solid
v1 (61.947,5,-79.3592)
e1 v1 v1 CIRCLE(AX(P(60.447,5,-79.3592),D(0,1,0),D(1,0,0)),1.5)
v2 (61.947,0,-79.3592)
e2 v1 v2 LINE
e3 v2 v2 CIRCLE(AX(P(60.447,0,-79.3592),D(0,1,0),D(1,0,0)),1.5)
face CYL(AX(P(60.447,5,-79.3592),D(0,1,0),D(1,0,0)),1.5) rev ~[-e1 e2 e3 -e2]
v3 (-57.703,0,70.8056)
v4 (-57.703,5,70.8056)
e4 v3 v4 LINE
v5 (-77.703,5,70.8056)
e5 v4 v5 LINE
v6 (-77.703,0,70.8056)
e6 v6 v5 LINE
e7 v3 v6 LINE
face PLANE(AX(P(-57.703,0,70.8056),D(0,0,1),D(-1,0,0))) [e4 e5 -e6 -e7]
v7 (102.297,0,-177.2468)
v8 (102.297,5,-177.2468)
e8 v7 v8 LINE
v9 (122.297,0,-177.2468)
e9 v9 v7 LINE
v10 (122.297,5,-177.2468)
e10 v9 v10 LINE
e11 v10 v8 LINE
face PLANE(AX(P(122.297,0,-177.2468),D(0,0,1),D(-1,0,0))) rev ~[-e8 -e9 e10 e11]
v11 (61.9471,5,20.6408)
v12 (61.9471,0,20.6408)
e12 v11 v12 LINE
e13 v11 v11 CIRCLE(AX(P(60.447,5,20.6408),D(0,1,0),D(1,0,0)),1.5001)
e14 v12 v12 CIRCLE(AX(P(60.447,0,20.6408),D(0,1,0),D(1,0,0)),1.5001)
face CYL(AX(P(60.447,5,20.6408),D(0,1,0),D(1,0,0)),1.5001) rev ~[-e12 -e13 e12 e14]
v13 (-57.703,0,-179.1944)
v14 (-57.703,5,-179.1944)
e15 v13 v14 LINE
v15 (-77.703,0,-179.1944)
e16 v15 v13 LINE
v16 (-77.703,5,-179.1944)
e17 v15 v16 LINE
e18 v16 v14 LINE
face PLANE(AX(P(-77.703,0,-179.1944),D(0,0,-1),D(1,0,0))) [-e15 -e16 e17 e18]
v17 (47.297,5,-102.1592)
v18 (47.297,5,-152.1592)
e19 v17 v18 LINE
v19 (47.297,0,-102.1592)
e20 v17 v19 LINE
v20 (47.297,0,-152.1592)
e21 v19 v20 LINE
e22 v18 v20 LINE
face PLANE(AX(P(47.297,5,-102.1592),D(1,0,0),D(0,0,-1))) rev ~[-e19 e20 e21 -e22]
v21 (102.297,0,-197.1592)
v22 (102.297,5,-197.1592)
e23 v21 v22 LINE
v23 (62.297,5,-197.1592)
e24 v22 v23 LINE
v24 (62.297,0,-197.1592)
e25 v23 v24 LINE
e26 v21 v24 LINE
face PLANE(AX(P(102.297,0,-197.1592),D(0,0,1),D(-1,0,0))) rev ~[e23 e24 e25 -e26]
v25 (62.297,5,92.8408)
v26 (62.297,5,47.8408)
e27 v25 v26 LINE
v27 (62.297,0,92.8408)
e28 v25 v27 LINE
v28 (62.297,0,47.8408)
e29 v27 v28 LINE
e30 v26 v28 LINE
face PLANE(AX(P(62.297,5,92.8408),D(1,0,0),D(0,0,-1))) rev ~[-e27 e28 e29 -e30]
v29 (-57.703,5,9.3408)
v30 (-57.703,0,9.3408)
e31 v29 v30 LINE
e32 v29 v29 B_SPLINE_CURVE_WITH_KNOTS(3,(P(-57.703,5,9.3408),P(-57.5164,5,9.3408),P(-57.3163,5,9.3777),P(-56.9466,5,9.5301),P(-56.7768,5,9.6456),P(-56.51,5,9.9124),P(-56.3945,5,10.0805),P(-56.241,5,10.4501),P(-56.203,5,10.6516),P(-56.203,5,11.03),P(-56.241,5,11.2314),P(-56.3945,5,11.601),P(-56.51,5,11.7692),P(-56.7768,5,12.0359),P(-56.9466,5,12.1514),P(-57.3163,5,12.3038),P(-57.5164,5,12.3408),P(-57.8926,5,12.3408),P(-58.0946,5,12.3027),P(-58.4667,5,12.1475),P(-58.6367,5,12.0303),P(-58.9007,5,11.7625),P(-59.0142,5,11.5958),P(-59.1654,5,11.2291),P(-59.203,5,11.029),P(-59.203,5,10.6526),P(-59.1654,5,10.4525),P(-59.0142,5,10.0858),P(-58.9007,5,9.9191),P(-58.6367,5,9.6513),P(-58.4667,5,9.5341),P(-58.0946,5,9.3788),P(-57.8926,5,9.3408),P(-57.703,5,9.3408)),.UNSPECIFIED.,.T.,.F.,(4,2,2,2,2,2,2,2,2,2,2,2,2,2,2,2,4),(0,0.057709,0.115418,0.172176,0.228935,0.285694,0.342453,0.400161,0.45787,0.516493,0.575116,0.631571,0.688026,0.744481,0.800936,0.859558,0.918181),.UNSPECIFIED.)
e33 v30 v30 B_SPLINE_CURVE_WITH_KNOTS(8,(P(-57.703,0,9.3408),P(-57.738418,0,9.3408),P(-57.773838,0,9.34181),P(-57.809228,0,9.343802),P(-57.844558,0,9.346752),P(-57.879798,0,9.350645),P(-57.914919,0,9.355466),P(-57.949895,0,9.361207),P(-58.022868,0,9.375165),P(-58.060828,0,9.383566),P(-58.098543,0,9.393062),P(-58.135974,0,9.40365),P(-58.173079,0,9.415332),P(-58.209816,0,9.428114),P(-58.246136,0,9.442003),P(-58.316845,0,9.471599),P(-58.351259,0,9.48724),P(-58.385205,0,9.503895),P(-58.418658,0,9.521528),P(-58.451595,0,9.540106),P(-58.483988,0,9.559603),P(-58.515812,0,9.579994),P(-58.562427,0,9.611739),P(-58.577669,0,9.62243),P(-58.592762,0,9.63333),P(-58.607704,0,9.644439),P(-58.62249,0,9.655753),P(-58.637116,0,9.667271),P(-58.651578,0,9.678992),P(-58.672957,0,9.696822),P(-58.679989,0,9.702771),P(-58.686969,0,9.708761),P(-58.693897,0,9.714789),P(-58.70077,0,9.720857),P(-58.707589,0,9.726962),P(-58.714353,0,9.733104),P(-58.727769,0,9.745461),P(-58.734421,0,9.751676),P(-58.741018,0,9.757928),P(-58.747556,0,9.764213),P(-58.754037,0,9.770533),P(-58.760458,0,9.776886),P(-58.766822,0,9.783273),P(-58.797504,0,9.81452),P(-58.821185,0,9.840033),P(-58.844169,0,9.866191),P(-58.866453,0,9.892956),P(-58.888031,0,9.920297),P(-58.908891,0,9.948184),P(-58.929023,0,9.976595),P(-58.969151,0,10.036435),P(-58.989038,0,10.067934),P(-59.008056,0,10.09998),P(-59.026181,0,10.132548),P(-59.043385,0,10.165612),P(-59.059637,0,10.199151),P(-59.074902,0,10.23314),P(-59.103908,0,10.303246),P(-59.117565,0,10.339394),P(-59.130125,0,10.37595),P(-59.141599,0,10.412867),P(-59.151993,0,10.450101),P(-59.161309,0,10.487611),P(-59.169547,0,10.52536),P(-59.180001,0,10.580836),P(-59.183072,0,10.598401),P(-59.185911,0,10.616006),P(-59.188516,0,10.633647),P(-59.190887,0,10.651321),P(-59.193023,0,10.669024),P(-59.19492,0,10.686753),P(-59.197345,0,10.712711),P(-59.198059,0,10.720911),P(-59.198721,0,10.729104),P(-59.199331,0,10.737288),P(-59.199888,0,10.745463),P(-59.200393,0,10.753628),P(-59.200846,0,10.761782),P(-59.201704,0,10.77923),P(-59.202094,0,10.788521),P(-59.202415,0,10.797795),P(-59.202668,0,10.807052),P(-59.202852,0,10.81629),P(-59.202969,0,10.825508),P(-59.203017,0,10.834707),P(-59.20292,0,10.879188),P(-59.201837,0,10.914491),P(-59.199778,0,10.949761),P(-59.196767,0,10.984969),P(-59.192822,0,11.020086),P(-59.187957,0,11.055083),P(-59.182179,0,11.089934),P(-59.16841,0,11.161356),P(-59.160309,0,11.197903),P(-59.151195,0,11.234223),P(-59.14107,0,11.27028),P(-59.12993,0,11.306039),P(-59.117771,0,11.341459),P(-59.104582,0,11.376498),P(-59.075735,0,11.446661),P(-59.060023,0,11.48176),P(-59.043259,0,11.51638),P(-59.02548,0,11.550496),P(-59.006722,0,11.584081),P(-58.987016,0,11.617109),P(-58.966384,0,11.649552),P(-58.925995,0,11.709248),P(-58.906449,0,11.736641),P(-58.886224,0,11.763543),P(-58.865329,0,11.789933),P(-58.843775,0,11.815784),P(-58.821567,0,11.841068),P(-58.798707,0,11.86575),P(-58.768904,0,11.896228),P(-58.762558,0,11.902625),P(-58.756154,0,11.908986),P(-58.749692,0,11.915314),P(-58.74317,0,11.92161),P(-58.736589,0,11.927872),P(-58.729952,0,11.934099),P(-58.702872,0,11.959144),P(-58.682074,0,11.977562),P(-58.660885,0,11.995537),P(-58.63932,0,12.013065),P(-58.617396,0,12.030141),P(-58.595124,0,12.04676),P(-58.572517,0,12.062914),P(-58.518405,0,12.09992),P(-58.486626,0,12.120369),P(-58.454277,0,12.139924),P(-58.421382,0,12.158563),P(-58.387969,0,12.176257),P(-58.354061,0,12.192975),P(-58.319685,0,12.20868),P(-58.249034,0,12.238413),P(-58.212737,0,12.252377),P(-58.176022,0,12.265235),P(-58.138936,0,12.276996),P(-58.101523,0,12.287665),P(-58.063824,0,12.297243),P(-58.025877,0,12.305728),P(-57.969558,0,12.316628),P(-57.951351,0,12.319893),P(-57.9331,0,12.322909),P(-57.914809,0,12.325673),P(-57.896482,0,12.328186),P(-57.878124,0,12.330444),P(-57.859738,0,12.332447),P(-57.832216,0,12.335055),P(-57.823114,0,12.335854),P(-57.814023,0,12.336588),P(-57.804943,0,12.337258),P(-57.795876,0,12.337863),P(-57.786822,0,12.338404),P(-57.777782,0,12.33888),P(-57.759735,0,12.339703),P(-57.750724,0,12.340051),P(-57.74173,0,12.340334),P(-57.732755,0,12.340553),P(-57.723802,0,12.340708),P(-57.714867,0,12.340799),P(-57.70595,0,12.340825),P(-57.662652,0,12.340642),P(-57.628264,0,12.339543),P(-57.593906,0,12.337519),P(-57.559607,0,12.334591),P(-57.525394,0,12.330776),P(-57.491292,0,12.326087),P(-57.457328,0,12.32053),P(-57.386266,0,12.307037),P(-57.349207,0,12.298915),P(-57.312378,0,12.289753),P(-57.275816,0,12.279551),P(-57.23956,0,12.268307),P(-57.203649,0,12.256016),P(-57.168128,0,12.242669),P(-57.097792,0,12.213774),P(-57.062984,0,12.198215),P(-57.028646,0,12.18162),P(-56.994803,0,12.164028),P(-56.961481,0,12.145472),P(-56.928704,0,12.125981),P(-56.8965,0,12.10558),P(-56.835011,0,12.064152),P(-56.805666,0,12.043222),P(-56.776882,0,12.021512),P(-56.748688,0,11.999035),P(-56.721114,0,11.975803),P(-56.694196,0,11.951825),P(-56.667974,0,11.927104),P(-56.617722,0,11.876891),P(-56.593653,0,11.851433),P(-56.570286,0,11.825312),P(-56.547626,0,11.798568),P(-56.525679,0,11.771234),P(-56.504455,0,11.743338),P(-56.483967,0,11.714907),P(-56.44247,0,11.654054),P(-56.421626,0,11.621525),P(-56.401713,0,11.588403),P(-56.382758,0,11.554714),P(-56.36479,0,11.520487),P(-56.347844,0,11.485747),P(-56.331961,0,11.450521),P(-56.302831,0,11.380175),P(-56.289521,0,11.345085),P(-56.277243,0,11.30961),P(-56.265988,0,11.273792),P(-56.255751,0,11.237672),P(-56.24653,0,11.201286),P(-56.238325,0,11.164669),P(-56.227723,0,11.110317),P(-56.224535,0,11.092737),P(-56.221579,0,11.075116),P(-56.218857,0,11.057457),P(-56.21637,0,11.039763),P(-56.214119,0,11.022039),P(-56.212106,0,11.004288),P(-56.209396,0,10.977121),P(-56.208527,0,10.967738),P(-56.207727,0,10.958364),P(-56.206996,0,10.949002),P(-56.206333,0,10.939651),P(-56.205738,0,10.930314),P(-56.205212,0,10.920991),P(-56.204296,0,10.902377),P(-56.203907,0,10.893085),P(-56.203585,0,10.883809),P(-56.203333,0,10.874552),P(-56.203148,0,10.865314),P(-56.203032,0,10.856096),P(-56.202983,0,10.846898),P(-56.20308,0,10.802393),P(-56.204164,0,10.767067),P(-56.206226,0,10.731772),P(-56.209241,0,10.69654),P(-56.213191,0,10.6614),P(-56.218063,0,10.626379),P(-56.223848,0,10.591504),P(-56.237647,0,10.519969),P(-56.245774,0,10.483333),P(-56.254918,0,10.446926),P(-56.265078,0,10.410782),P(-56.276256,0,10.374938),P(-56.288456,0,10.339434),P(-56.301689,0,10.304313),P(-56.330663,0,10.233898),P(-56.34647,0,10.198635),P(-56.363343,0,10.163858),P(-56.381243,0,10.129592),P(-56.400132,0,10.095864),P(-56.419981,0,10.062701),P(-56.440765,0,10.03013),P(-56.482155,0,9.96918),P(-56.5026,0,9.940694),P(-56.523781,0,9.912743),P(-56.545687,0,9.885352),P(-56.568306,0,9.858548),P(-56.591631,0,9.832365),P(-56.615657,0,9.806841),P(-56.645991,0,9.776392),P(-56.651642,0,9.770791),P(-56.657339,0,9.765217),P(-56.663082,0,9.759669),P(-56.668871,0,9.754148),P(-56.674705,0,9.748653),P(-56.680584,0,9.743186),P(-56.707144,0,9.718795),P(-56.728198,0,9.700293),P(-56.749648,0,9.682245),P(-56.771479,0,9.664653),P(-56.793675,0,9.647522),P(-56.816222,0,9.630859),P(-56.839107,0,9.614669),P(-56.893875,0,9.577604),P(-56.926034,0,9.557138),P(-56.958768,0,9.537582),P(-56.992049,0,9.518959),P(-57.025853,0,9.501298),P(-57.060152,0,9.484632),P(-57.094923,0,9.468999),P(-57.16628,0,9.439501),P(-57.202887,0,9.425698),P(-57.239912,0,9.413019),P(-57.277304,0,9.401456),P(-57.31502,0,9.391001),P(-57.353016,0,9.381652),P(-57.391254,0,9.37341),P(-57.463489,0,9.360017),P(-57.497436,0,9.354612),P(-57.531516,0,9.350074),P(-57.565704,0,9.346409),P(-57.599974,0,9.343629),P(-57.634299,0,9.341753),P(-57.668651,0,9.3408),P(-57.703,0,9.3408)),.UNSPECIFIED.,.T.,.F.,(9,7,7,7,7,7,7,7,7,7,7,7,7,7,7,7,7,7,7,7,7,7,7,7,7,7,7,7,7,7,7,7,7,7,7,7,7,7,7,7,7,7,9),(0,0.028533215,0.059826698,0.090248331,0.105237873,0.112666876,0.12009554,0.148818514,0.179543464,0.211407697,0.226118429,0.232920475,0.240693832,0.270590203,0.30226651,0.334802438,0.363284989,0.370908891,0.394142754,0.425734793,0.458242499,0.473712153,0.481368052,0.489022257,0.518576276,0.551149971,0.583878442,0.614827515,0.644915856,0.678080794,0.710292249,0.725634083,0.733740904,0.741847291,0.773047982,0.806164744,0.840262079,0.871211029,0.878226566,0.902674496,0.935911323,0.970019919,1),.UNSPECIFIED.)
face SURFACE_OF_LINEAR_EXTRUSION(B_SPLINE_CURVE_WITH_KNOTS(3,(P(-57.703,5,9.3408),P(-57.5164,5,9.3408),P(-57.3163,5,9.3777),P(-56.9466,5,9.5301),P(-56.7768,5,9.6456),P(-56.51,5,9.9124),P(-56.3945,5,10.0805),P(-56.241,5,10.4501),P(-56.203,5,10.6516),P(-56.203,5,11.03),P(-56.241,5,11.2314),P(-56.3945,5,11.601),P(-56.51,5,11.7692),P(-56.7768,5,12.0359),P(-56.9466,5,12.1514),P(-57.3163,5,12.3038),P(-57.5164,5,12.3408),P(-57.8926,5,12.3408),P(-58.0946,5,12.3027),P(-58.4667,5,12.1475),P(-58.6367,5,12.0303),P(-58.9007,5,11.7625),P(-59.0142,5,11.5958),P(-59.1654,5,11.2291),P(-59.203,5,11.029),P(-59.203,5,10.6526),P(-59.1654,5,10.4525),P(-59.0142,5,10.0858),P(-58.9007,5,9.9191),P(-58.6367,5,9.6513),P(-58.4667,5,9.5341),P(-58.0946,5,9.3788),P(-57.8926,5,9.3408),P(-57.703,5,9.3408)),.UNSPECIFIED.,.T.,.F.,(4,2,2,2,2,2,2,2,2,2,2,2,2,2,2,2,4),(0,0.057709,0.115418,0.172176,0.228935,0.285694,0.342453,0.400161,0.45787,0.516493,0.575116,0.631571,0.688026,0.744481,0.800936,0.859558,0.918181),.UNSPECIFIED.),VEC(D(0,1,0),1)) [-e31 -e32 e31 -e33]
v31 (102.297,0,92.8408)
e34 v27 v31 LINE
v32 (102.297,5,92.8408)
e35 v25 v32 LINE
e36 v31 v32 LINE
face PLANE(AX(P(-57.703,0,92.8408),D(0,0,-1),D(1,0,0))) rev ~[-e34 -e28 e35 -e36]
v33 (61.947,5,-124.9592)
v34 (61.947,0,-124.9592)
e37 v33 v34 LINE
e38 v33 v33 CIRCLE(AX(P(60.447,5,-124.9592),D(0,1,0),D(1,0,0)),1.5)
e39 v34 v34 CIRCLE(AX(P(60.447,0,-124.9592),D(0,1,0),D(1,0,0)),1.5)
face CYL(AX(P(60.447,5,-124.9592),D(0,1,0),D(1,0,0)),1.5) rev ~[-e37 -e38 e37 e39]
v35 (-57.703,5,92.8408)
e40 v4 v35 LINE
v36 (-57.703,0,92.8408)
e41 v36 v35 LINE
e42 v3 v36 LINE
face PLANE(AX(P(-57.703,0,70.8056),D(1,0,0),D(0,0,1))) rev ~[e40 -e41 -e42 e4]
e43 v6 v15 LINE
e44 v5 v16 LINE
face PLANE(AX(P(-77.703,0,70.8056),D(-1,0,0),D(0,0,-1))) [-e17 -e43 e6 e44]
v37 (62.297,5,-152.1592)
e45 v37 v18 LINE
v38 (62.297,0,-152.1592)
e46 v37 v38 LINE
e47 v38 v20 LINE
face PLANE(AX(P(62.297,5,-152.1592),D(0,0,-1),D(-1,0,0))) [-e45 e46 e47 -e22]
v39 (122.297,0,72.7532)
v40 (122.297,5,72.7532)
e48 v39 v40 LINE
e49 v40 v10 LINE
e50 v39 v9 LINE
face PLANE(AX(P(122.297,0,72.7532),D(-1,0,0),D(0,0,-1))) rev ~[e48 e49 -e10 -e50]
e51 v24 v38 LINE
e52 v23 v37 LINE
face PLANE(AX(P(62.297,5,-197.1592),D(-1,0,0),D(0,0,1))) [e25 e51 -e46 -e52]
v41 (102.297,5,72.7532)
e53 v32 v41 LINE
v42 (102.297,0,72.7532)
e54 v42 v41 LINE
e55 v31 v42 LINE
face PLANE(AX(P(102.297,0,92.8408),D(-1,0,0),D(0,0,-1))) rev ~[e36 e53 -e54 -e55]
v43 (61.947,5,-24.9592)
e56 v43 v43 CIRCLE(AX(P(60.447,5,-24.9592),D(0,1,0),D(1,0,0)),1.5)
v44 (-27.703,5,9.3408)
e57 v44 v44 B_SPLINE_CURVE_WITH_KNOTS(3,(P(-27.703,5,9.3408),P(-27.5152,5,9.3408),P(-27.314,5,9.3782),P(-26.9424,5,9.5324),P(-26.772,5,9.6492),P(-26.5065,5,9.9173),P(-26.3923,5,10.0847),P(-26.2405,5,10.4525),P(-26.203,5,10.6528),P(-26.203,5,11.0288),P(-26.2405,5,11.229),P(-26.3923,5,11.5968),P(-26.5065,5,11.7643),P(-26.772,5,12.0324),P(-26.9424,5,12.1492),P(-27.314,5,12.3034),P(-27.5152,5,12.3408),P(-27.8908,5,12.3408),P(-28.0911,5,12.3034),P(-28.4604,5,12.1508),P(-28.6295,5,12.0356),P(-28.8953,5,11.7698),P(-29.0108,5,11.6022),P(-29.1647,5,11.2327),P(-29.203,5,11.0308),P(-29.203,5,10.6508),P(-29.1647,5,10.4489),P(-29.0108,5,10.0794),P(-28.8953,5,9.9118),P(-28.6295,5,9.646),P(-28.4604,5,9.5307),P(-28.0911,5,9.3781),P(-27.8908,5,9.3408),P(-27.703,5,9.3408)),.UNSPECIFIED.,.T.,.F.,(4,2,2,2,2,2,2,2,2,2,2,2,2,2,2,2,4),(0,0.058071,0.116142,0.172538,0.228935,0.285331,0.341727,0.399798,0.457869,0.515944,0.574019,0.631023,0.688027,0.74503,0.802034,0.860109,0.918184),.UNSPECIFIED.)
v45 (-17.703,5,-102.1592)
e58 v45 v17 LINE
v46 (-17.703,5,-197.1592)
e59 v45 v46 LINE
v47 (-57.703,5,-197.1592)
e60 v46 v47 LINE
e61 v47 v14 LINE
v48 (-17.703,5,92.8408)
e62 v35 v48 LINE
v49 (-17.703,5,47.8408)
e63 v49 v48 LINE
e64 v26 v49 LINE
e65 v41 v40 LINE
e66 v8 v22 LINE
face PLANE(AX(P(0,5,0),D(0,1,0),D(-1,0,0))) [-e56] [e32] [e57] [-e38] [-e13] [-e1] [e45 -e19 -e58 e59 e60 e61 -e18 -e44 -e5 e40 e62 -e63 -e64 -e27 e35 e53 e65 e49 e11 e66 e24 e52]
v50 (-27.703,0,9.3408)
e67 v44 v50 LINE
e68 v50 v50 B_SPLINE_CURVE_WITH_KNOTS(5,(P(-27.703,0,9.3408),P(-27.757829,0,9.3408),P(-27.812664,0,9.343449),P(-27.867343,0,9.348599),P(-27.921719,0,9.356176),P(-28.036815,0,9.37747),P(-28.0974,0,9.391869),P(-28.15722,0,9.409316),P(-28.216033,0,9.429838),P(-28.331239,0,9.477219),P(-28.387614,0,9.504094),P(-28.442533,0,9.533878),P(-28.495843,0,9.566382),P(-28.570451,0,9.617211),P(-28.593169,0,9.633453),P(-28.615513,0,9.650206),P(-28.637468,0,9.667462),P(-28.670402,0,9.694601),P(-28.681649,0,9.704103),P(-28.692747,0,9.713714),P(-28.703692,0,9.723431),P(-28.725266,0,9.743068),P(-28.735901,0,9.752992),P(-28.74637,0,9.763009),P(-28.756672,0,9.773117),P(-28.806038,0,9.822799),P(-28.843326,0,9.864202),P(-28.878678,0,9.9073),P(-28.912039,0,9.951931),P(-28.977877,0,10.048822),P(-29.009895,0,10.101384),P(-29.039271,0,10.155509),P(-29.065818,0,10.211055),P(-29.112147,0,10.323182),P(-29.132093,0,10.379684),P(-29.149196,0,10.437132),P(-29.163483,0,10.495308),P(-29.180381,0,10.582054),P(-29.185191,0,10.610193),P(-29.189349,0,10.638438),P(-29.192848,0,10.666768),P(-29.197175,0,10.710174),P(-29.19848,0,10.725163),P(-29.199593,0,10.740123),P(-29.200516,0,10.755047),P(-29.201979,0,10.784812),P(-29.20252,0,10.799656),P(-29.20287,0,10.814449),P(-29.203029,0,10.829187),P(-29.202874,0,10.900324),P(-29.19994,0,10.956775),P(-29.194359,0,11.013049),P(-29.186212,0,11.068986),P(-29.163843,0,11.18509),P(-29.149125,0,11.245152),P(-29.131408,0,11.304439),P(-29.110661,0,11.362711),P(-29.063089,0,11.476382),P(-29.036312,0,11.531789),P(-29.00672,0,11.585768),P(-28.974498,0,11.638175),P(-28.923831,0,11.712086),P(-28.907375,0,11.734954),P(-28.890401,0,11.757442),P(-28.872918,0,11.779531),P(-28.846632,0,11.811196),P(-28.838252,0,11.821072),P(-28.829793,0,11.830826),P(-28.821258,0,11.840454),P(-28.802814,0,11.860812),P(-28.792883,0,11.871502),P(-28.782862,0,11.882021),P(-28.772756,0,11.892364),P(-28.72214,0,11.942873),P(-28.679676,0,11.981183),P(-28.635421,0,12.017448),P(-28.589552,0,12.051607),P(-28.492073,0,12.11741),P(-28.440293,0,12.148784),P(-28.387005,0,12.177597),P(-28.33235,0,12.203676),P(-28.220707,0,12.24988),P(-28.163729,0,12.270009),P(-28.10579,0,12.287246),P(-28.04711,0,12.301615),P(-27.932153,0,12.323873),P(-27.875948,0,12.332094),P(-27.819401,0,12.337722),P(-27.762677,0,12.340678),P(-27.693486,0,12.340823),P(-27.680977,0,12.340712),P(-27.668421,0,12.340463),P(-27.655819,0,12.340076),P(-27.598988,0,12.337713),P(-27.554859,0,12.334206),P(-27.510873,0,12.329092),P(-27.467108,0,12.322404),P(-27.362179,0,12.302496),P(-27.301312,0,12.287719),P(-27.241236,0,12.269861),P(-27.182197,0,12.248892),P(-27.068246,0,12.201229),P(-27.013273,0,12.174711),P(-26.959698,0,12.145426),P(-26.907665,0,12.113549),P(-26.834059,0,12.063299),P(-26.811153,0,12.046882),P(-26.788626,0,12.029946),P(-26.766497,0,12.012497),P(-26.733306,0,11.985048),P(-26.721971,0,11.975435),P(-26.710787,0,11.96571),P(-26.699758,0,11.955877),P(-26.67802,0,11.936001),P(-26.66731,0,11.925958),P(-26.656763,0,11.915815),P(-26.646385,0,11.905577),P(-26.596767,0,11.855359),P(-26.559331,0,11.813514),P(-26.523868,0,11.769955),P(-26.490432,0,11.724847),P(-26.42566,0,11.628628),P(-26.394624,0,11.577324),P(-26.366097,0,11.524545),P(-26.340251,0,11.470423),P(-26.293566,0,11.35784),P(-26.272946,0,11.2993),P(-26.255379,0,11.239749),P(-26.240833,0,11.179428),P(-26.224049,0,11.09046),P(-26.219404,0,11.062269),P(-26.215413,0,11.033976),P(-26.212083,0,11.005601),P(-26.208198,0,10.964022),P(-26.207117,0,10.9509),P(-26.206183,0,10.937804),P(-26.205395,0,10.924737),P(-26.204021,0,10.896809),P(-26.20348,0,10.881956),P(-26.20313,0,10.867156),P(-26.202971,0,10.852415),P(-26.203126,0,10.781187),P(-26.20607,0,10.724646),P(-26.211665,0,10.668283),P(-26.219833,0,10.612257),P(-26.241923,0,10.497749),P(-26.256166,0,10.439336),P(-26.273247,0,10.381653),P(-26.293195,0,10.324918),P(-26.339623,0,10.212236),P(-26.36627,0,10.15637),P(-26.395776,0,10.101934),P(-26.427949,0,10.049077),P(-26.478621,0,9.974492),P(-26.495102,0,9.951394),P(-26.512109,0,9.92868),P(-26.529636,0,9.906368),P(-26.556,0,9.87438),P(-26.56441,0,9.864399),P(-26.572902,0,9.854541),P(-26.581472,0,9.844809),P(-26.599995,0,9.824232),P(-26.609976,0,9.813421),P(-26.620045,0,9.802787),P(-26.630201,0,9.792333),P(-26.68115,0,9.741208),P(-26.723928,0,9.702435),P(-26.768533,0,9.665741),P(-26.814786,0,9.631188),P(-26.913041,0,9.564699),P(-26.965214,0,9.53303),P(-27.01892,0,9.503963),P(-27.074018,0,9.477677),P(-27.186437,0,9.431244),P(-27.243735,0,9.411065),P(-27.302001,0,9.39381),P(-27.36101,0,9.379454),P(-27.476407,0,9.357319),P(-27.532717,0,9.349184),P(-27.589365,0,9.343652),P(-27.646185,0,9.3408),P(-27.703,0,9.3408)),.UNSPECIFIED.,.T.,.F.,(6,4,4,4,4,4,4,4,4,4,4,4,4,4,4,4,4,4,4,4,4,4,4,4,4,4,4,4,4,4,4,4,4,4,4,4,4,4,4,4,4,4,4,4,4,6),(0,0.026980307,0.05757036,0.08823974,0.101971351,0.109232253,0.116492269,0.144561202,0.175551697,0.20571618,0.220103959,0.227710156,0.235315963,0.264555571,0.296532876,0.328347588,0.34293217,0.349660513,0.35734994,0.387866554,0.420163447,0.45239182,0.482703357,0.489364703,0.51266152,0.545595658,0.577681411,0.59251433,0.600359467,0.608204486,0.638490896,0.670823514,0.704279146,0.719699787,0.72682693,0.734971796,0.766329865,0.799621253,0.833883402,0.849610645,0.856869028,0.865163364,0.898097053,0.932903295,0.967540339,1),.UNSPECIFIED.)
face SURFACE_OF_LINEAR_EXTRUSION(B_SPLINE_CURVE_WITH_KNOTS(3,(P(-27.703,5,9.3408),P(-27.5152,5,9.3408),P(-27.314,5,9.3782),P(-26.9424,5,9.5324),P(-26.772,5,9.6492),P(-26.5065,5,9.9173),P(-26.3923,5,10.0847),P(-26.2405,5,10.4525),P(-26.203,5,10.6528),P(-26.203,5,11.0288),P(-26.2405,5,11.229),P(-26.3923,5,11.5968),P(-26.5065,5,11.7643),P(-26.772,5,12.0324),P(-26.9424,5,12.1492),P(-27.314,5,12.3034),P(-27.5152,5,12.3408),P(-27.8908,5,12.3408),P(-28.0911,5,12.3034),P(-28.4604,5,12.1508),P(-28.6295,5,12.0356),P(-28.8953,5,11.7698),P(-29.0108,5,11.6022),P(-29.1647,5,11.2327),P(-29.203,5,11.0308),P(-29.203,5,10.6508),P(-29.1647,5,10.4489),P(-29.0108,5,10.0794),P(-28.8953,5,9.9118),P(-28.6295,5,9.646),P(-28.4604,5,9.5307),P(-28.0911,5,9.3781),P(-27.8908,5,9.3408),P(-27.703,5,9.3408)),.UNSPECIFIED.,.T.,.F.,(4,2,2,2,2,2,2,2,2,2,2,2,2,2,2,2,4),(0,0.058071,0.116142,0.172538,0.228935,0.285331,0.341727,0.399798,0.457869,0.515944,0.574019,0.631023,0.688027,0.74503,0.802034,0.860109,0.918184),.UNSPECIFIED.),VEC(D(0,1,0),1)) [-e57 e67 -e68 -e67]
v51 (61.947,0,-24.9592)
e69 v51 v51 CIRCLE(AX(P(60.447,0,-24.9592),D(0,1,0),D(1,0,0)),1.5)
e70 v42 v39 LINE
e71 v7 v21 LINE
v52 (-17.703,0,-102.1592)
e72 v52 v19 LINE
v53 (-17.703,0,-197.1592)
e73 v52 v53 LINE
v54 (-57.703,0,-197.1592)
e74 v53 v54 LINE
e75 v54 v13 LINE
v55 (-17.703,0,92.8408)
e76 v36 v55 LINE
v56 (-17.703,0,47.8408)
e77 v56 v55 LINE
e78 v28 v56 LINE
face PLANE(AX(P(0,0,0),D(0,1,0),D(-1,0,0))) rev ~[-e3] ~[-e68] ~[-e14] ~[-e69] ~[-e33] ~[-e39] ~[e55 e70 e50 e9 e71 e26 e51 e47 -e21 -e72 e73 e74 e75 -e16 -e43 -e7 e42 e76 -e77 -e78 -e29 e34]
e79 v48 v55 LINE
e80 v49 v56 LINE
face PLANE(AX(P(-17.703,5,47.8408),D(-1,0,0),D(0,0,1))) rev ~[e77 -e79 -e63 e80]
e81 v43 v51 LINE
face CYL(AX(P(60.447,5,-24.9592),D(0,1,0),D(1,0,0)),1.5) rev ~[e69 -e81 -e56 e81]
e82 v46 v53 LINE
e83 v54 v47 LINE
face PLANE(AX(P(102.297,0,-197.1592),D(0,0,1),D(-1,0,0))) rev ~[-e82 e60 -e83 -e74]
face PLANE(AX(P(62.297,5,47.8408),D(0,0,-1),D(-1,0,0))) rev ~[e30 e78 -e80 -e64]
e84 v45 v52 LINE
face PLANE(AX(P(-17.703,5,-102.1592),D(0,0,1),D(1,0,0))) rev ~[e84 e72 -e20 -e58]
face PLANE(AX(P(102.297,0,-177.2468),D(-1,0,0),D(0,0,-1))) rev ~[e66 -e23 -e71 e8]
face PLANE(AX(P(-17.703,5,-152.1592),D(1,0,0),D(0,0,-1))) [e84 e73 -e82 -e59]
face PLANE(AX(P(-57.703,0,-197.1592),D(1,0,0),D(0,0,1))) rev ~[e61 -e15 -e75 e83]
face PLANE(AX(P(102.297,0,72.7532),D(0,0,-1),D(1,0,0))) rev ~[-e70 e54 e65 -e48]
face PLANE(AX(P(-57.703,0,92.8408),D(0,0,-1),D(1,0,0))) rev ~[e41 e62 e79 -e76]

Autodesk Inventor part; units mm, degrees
ref_plane "YZ Plane" through (0, 0, 0) normal (1, 0, 0) x (0, 1, 0)
ref_plane "XZ Plane" through (0, 0, 0) normal (0, 1, 0) x (-1, 0, 0)
ref_plane "XY Plane" through (0, 0, 0) normal (0, 0, 1) x (1, 0, 0)
sketch "Esquisse1" plane through (0, 0, 0) normal (0, 1, 0) x (-1, 0, 0)
  line L0 (57.703, 92.8408) -> (-102.297, 92.8408)
  line L1 (-102.297, -197.1592) -> (57.703, -197.1592)
  line L2 (-102.297, 72.7532) -> (-122.297, 72.7532)
  line L3 (-122.297, 72.7532) -> (-122.297, -177.2468)
  line L4 (-122.297, -177.2468) -> (-102.297, -177.2468)
  line L5 (-102.297, 70.8056) -> (-102.297, 72.7532)
  line L6 (57.703, 70.8056) -> (77.703, 70.8056)
  line L7 (77.703, 70.8056) -> (77.703, -179.1944)
  line L8 (77.703, -179.1944) -> (57.703, -179.1944)
  line L9 (57.703, -179.1944) -> (57.703, -177.2468)
  line L10 (57.703, -197.1592) -> (57.703, -179.1944)
  line L11 (57.703, 70.8056) -> (57.703, 92.8408)
  line L12 (-102.297, 92.8408) -> (-102.297, 72.7532)
  line L13 (-102.297, -177.2468) -> (-102.297, -197.1592)
  point P0 (0, 0)
  dimension "d0" = 290
  dimension "d1" = 160
  dimension "d17" = 20
  dimension "d18" = 250
  dimension "d19" = 20
  dimension "d20" = 250
extrude "Extrusion1" add sketch "Esquisse1" along normal blind 5
ref_plane "Plan de construction1" through (22.297, 0, -197.1592) normal (-1, 0, 0) x (0, 0, 1)
sketch "Sketch2" plane through (0, 5, 0) normal (0, 1, 0) x (1, 0, 0)
  circle A0 centre (60.447, -20.6408) radius 1.5001 projected
  circle A1 centre (60.447, 24.9592) radius 1.5 projected
  circle A2 centre (60.447, 124.9592) radius 1.5 projected
  circle A3 centre (60.447, 79.3592) radius 1.5 projected
  point P0 (0, 0)
extrude "Extrusion2" cut sketch "Sketch2" against normal through all
sketch "Sketch5" plane through (0, 5, 0) normal (0, 1, 0) x (1, 0, 0)
  line L0 (-17.703, -92.8408) -> (62.297, -92.8408)
  line L1 (62.297, -92.8408) -> (62.297, -47.8408)
  line L2 (62.297, -47.8408) -> (-17.703, -47.8408)
  line L3 (-17.703, -47.8408) -> (-17.703, -92.8408)
  line L4 (-57.703, -92.8408) -> (102.297, -92.8408) projected
  line L5 (-57.703, 197.1592) -> (-57.703, -92.8408) projected
  line L6 (102.297, -92.8408) -> (102.297, 197.1592) projected
  line L7 (102.297, 197.1592) -> (-57.703, 197.1592) projected
  line L8 (-17.703, 197.1592) -> (62.297, 197.1592)
  line L9 (62.297, 197.1592) -> (62.297, 152.1592)
  line L10 (62.297, 152.1592) -> (-17.703, 152.1592)
  line L11 (-17.703, 152.1592) -> (-17.703, 197.1592)
  line L12 (47.297, 152.1592) -> (-17.703, 152.1592)
  line L13 (-17.703, 152.1592) -> (-17.703, 102.1592)
  line L14 (-17.703, 102.1592) -> (47.297, 102.1592)
  line L15 (47.297, 102.1592) -> (47.297, 152.1592)
  point P0 (0, 0)
  dimension "d6" = 0
  dimension "d7" = 45
  dimension "d8" = 40
  dimension "d9" = 40
  dimension "d10" = 40
  dimension "d11" = 40
  dimension "d12" = 45
  dimension "d15" = 65
  dimension "d16" = 50
extrude "Extrusion3" cut sketch "Sketch5" against normal through all contours L3 L2 L1 L0 | L7 L9 L10 L11 | L10 L15 L14 L13
sketch "Sketch6" plane through (0, 5, 0) normal (0, 1, 0) x (1, 0, 0)
  spline S0 degree 3 poles (-57.703, -9.3408) (-57.5164, -9.3408) (-57.3163, -9.3777) (-56.9466, -9.5301) (-56.7768, -9.6456) (-56.51, -9.9124) (-56.3945, -10.0805) (-56.241, -10.4501) (-56.203, -10.6516) (-56.203, -11.03) (-56.241, -11.2314) (-56.3945, -11.601) (-56.51, -11.7692) (-56.7768, -12.0359) (-56.9466, -12.1514) (-57.3163, -12.3038) (-57.5164, -12.3408) (-57.8926, -12.3408) (-58.0946, -12.3027) (-58.4667, -12.1475) (-58.6367, -12.0303) (-58.9007, -11.7625) (-59.0142, -11.5958) (-59.1654, -11.2291) (-59.203, -11.029) (-59.203, -10.6526) (-59.1654, -10.4525) (-59.0142, -10.0858) (-58.9007, -9.9191) (-58.6367, -9.6513) (-58.4667, -9.5341) (-58.0946, -9.3788) (-57.8926, -9.3408) (-57.703, -9.3408) knots 0 0 0 0 0.057709 0.057709 0.115418 0.115418 0.172176 0.172176 0.228935 0.228935 0.285694 0.285694 0.342453 0.342453 0.400161 0.400161 0.45787 0.45787 0.516493 0.516493 0.575116 0.575116 0.631571 0.631571 0.688026 0.688026 0.744481 0.744481 0.800936 0.800936 0.859558 0.859558 0.918181 0.918181 0.918181 0.918181 projected
  spline S1 degree 3 poles (-27.703, -9.3408) (-27.5152, -9.3408) (-27.314, -9.3782) (-26.9424, -9.5324) (-26.772, -9.6492) (-26.5065, -9.9173) (-26.3923, -10.0847) (-26.2405, -10.4525) (-26.203, -10.6528) (-26.203, -11.0288) (-26.2405, -11.229) (-26.3923, -11.5968) (-26.5065, -11.7643) (-26.772, -12.0324) (-26.9424, -12.1492) (-27.314, -12.3034) (-27.5152, -12.3408) (-27.8908, -12.3408) (-28.0911, -12.3034) (-28.4604, -12.1508) (-28.6295, -12.0356) (-28.8953, -11.7698) (-29.0108, -11.6022) (-29.1647, -11.2327) (-29.203, -11.0308) (-29.203, -10.6508) (-29.1647, -10.4489) (-29.0108, -10.0794) (-28.8953, -9.9118) (-28.6295, -9.646) (-28.4604, -9.5307) (-28.0911, -9.3781) (-27.8908, -9.3408) (-27.703, -9.3408) knots 0 0 0 0 0.058071 0.058071 0.116142 0.116142 0.172538 0.172538 0.228935 0.228935 0.285331 0.285331 0.341727 0.341727 0.399798 0.399798 0.457869 0.457869 0.515944 0.515944 0.574019 0.574019 0.631023 0.631023 0.688027 0.688027 0.74503 0.74503 0.802034 0.802034 0.860109 0.860109 0.918184 0.918184 0.918184 0.918184 projected
  point P0 (0, 0)
  point P1 (-57.703, -9.3408)
  point P2 (-27.703, -9.3408)
extrude "Extrusion4" cut sketch "Sketch6" against normal through all
properties part number "etage-bras"
